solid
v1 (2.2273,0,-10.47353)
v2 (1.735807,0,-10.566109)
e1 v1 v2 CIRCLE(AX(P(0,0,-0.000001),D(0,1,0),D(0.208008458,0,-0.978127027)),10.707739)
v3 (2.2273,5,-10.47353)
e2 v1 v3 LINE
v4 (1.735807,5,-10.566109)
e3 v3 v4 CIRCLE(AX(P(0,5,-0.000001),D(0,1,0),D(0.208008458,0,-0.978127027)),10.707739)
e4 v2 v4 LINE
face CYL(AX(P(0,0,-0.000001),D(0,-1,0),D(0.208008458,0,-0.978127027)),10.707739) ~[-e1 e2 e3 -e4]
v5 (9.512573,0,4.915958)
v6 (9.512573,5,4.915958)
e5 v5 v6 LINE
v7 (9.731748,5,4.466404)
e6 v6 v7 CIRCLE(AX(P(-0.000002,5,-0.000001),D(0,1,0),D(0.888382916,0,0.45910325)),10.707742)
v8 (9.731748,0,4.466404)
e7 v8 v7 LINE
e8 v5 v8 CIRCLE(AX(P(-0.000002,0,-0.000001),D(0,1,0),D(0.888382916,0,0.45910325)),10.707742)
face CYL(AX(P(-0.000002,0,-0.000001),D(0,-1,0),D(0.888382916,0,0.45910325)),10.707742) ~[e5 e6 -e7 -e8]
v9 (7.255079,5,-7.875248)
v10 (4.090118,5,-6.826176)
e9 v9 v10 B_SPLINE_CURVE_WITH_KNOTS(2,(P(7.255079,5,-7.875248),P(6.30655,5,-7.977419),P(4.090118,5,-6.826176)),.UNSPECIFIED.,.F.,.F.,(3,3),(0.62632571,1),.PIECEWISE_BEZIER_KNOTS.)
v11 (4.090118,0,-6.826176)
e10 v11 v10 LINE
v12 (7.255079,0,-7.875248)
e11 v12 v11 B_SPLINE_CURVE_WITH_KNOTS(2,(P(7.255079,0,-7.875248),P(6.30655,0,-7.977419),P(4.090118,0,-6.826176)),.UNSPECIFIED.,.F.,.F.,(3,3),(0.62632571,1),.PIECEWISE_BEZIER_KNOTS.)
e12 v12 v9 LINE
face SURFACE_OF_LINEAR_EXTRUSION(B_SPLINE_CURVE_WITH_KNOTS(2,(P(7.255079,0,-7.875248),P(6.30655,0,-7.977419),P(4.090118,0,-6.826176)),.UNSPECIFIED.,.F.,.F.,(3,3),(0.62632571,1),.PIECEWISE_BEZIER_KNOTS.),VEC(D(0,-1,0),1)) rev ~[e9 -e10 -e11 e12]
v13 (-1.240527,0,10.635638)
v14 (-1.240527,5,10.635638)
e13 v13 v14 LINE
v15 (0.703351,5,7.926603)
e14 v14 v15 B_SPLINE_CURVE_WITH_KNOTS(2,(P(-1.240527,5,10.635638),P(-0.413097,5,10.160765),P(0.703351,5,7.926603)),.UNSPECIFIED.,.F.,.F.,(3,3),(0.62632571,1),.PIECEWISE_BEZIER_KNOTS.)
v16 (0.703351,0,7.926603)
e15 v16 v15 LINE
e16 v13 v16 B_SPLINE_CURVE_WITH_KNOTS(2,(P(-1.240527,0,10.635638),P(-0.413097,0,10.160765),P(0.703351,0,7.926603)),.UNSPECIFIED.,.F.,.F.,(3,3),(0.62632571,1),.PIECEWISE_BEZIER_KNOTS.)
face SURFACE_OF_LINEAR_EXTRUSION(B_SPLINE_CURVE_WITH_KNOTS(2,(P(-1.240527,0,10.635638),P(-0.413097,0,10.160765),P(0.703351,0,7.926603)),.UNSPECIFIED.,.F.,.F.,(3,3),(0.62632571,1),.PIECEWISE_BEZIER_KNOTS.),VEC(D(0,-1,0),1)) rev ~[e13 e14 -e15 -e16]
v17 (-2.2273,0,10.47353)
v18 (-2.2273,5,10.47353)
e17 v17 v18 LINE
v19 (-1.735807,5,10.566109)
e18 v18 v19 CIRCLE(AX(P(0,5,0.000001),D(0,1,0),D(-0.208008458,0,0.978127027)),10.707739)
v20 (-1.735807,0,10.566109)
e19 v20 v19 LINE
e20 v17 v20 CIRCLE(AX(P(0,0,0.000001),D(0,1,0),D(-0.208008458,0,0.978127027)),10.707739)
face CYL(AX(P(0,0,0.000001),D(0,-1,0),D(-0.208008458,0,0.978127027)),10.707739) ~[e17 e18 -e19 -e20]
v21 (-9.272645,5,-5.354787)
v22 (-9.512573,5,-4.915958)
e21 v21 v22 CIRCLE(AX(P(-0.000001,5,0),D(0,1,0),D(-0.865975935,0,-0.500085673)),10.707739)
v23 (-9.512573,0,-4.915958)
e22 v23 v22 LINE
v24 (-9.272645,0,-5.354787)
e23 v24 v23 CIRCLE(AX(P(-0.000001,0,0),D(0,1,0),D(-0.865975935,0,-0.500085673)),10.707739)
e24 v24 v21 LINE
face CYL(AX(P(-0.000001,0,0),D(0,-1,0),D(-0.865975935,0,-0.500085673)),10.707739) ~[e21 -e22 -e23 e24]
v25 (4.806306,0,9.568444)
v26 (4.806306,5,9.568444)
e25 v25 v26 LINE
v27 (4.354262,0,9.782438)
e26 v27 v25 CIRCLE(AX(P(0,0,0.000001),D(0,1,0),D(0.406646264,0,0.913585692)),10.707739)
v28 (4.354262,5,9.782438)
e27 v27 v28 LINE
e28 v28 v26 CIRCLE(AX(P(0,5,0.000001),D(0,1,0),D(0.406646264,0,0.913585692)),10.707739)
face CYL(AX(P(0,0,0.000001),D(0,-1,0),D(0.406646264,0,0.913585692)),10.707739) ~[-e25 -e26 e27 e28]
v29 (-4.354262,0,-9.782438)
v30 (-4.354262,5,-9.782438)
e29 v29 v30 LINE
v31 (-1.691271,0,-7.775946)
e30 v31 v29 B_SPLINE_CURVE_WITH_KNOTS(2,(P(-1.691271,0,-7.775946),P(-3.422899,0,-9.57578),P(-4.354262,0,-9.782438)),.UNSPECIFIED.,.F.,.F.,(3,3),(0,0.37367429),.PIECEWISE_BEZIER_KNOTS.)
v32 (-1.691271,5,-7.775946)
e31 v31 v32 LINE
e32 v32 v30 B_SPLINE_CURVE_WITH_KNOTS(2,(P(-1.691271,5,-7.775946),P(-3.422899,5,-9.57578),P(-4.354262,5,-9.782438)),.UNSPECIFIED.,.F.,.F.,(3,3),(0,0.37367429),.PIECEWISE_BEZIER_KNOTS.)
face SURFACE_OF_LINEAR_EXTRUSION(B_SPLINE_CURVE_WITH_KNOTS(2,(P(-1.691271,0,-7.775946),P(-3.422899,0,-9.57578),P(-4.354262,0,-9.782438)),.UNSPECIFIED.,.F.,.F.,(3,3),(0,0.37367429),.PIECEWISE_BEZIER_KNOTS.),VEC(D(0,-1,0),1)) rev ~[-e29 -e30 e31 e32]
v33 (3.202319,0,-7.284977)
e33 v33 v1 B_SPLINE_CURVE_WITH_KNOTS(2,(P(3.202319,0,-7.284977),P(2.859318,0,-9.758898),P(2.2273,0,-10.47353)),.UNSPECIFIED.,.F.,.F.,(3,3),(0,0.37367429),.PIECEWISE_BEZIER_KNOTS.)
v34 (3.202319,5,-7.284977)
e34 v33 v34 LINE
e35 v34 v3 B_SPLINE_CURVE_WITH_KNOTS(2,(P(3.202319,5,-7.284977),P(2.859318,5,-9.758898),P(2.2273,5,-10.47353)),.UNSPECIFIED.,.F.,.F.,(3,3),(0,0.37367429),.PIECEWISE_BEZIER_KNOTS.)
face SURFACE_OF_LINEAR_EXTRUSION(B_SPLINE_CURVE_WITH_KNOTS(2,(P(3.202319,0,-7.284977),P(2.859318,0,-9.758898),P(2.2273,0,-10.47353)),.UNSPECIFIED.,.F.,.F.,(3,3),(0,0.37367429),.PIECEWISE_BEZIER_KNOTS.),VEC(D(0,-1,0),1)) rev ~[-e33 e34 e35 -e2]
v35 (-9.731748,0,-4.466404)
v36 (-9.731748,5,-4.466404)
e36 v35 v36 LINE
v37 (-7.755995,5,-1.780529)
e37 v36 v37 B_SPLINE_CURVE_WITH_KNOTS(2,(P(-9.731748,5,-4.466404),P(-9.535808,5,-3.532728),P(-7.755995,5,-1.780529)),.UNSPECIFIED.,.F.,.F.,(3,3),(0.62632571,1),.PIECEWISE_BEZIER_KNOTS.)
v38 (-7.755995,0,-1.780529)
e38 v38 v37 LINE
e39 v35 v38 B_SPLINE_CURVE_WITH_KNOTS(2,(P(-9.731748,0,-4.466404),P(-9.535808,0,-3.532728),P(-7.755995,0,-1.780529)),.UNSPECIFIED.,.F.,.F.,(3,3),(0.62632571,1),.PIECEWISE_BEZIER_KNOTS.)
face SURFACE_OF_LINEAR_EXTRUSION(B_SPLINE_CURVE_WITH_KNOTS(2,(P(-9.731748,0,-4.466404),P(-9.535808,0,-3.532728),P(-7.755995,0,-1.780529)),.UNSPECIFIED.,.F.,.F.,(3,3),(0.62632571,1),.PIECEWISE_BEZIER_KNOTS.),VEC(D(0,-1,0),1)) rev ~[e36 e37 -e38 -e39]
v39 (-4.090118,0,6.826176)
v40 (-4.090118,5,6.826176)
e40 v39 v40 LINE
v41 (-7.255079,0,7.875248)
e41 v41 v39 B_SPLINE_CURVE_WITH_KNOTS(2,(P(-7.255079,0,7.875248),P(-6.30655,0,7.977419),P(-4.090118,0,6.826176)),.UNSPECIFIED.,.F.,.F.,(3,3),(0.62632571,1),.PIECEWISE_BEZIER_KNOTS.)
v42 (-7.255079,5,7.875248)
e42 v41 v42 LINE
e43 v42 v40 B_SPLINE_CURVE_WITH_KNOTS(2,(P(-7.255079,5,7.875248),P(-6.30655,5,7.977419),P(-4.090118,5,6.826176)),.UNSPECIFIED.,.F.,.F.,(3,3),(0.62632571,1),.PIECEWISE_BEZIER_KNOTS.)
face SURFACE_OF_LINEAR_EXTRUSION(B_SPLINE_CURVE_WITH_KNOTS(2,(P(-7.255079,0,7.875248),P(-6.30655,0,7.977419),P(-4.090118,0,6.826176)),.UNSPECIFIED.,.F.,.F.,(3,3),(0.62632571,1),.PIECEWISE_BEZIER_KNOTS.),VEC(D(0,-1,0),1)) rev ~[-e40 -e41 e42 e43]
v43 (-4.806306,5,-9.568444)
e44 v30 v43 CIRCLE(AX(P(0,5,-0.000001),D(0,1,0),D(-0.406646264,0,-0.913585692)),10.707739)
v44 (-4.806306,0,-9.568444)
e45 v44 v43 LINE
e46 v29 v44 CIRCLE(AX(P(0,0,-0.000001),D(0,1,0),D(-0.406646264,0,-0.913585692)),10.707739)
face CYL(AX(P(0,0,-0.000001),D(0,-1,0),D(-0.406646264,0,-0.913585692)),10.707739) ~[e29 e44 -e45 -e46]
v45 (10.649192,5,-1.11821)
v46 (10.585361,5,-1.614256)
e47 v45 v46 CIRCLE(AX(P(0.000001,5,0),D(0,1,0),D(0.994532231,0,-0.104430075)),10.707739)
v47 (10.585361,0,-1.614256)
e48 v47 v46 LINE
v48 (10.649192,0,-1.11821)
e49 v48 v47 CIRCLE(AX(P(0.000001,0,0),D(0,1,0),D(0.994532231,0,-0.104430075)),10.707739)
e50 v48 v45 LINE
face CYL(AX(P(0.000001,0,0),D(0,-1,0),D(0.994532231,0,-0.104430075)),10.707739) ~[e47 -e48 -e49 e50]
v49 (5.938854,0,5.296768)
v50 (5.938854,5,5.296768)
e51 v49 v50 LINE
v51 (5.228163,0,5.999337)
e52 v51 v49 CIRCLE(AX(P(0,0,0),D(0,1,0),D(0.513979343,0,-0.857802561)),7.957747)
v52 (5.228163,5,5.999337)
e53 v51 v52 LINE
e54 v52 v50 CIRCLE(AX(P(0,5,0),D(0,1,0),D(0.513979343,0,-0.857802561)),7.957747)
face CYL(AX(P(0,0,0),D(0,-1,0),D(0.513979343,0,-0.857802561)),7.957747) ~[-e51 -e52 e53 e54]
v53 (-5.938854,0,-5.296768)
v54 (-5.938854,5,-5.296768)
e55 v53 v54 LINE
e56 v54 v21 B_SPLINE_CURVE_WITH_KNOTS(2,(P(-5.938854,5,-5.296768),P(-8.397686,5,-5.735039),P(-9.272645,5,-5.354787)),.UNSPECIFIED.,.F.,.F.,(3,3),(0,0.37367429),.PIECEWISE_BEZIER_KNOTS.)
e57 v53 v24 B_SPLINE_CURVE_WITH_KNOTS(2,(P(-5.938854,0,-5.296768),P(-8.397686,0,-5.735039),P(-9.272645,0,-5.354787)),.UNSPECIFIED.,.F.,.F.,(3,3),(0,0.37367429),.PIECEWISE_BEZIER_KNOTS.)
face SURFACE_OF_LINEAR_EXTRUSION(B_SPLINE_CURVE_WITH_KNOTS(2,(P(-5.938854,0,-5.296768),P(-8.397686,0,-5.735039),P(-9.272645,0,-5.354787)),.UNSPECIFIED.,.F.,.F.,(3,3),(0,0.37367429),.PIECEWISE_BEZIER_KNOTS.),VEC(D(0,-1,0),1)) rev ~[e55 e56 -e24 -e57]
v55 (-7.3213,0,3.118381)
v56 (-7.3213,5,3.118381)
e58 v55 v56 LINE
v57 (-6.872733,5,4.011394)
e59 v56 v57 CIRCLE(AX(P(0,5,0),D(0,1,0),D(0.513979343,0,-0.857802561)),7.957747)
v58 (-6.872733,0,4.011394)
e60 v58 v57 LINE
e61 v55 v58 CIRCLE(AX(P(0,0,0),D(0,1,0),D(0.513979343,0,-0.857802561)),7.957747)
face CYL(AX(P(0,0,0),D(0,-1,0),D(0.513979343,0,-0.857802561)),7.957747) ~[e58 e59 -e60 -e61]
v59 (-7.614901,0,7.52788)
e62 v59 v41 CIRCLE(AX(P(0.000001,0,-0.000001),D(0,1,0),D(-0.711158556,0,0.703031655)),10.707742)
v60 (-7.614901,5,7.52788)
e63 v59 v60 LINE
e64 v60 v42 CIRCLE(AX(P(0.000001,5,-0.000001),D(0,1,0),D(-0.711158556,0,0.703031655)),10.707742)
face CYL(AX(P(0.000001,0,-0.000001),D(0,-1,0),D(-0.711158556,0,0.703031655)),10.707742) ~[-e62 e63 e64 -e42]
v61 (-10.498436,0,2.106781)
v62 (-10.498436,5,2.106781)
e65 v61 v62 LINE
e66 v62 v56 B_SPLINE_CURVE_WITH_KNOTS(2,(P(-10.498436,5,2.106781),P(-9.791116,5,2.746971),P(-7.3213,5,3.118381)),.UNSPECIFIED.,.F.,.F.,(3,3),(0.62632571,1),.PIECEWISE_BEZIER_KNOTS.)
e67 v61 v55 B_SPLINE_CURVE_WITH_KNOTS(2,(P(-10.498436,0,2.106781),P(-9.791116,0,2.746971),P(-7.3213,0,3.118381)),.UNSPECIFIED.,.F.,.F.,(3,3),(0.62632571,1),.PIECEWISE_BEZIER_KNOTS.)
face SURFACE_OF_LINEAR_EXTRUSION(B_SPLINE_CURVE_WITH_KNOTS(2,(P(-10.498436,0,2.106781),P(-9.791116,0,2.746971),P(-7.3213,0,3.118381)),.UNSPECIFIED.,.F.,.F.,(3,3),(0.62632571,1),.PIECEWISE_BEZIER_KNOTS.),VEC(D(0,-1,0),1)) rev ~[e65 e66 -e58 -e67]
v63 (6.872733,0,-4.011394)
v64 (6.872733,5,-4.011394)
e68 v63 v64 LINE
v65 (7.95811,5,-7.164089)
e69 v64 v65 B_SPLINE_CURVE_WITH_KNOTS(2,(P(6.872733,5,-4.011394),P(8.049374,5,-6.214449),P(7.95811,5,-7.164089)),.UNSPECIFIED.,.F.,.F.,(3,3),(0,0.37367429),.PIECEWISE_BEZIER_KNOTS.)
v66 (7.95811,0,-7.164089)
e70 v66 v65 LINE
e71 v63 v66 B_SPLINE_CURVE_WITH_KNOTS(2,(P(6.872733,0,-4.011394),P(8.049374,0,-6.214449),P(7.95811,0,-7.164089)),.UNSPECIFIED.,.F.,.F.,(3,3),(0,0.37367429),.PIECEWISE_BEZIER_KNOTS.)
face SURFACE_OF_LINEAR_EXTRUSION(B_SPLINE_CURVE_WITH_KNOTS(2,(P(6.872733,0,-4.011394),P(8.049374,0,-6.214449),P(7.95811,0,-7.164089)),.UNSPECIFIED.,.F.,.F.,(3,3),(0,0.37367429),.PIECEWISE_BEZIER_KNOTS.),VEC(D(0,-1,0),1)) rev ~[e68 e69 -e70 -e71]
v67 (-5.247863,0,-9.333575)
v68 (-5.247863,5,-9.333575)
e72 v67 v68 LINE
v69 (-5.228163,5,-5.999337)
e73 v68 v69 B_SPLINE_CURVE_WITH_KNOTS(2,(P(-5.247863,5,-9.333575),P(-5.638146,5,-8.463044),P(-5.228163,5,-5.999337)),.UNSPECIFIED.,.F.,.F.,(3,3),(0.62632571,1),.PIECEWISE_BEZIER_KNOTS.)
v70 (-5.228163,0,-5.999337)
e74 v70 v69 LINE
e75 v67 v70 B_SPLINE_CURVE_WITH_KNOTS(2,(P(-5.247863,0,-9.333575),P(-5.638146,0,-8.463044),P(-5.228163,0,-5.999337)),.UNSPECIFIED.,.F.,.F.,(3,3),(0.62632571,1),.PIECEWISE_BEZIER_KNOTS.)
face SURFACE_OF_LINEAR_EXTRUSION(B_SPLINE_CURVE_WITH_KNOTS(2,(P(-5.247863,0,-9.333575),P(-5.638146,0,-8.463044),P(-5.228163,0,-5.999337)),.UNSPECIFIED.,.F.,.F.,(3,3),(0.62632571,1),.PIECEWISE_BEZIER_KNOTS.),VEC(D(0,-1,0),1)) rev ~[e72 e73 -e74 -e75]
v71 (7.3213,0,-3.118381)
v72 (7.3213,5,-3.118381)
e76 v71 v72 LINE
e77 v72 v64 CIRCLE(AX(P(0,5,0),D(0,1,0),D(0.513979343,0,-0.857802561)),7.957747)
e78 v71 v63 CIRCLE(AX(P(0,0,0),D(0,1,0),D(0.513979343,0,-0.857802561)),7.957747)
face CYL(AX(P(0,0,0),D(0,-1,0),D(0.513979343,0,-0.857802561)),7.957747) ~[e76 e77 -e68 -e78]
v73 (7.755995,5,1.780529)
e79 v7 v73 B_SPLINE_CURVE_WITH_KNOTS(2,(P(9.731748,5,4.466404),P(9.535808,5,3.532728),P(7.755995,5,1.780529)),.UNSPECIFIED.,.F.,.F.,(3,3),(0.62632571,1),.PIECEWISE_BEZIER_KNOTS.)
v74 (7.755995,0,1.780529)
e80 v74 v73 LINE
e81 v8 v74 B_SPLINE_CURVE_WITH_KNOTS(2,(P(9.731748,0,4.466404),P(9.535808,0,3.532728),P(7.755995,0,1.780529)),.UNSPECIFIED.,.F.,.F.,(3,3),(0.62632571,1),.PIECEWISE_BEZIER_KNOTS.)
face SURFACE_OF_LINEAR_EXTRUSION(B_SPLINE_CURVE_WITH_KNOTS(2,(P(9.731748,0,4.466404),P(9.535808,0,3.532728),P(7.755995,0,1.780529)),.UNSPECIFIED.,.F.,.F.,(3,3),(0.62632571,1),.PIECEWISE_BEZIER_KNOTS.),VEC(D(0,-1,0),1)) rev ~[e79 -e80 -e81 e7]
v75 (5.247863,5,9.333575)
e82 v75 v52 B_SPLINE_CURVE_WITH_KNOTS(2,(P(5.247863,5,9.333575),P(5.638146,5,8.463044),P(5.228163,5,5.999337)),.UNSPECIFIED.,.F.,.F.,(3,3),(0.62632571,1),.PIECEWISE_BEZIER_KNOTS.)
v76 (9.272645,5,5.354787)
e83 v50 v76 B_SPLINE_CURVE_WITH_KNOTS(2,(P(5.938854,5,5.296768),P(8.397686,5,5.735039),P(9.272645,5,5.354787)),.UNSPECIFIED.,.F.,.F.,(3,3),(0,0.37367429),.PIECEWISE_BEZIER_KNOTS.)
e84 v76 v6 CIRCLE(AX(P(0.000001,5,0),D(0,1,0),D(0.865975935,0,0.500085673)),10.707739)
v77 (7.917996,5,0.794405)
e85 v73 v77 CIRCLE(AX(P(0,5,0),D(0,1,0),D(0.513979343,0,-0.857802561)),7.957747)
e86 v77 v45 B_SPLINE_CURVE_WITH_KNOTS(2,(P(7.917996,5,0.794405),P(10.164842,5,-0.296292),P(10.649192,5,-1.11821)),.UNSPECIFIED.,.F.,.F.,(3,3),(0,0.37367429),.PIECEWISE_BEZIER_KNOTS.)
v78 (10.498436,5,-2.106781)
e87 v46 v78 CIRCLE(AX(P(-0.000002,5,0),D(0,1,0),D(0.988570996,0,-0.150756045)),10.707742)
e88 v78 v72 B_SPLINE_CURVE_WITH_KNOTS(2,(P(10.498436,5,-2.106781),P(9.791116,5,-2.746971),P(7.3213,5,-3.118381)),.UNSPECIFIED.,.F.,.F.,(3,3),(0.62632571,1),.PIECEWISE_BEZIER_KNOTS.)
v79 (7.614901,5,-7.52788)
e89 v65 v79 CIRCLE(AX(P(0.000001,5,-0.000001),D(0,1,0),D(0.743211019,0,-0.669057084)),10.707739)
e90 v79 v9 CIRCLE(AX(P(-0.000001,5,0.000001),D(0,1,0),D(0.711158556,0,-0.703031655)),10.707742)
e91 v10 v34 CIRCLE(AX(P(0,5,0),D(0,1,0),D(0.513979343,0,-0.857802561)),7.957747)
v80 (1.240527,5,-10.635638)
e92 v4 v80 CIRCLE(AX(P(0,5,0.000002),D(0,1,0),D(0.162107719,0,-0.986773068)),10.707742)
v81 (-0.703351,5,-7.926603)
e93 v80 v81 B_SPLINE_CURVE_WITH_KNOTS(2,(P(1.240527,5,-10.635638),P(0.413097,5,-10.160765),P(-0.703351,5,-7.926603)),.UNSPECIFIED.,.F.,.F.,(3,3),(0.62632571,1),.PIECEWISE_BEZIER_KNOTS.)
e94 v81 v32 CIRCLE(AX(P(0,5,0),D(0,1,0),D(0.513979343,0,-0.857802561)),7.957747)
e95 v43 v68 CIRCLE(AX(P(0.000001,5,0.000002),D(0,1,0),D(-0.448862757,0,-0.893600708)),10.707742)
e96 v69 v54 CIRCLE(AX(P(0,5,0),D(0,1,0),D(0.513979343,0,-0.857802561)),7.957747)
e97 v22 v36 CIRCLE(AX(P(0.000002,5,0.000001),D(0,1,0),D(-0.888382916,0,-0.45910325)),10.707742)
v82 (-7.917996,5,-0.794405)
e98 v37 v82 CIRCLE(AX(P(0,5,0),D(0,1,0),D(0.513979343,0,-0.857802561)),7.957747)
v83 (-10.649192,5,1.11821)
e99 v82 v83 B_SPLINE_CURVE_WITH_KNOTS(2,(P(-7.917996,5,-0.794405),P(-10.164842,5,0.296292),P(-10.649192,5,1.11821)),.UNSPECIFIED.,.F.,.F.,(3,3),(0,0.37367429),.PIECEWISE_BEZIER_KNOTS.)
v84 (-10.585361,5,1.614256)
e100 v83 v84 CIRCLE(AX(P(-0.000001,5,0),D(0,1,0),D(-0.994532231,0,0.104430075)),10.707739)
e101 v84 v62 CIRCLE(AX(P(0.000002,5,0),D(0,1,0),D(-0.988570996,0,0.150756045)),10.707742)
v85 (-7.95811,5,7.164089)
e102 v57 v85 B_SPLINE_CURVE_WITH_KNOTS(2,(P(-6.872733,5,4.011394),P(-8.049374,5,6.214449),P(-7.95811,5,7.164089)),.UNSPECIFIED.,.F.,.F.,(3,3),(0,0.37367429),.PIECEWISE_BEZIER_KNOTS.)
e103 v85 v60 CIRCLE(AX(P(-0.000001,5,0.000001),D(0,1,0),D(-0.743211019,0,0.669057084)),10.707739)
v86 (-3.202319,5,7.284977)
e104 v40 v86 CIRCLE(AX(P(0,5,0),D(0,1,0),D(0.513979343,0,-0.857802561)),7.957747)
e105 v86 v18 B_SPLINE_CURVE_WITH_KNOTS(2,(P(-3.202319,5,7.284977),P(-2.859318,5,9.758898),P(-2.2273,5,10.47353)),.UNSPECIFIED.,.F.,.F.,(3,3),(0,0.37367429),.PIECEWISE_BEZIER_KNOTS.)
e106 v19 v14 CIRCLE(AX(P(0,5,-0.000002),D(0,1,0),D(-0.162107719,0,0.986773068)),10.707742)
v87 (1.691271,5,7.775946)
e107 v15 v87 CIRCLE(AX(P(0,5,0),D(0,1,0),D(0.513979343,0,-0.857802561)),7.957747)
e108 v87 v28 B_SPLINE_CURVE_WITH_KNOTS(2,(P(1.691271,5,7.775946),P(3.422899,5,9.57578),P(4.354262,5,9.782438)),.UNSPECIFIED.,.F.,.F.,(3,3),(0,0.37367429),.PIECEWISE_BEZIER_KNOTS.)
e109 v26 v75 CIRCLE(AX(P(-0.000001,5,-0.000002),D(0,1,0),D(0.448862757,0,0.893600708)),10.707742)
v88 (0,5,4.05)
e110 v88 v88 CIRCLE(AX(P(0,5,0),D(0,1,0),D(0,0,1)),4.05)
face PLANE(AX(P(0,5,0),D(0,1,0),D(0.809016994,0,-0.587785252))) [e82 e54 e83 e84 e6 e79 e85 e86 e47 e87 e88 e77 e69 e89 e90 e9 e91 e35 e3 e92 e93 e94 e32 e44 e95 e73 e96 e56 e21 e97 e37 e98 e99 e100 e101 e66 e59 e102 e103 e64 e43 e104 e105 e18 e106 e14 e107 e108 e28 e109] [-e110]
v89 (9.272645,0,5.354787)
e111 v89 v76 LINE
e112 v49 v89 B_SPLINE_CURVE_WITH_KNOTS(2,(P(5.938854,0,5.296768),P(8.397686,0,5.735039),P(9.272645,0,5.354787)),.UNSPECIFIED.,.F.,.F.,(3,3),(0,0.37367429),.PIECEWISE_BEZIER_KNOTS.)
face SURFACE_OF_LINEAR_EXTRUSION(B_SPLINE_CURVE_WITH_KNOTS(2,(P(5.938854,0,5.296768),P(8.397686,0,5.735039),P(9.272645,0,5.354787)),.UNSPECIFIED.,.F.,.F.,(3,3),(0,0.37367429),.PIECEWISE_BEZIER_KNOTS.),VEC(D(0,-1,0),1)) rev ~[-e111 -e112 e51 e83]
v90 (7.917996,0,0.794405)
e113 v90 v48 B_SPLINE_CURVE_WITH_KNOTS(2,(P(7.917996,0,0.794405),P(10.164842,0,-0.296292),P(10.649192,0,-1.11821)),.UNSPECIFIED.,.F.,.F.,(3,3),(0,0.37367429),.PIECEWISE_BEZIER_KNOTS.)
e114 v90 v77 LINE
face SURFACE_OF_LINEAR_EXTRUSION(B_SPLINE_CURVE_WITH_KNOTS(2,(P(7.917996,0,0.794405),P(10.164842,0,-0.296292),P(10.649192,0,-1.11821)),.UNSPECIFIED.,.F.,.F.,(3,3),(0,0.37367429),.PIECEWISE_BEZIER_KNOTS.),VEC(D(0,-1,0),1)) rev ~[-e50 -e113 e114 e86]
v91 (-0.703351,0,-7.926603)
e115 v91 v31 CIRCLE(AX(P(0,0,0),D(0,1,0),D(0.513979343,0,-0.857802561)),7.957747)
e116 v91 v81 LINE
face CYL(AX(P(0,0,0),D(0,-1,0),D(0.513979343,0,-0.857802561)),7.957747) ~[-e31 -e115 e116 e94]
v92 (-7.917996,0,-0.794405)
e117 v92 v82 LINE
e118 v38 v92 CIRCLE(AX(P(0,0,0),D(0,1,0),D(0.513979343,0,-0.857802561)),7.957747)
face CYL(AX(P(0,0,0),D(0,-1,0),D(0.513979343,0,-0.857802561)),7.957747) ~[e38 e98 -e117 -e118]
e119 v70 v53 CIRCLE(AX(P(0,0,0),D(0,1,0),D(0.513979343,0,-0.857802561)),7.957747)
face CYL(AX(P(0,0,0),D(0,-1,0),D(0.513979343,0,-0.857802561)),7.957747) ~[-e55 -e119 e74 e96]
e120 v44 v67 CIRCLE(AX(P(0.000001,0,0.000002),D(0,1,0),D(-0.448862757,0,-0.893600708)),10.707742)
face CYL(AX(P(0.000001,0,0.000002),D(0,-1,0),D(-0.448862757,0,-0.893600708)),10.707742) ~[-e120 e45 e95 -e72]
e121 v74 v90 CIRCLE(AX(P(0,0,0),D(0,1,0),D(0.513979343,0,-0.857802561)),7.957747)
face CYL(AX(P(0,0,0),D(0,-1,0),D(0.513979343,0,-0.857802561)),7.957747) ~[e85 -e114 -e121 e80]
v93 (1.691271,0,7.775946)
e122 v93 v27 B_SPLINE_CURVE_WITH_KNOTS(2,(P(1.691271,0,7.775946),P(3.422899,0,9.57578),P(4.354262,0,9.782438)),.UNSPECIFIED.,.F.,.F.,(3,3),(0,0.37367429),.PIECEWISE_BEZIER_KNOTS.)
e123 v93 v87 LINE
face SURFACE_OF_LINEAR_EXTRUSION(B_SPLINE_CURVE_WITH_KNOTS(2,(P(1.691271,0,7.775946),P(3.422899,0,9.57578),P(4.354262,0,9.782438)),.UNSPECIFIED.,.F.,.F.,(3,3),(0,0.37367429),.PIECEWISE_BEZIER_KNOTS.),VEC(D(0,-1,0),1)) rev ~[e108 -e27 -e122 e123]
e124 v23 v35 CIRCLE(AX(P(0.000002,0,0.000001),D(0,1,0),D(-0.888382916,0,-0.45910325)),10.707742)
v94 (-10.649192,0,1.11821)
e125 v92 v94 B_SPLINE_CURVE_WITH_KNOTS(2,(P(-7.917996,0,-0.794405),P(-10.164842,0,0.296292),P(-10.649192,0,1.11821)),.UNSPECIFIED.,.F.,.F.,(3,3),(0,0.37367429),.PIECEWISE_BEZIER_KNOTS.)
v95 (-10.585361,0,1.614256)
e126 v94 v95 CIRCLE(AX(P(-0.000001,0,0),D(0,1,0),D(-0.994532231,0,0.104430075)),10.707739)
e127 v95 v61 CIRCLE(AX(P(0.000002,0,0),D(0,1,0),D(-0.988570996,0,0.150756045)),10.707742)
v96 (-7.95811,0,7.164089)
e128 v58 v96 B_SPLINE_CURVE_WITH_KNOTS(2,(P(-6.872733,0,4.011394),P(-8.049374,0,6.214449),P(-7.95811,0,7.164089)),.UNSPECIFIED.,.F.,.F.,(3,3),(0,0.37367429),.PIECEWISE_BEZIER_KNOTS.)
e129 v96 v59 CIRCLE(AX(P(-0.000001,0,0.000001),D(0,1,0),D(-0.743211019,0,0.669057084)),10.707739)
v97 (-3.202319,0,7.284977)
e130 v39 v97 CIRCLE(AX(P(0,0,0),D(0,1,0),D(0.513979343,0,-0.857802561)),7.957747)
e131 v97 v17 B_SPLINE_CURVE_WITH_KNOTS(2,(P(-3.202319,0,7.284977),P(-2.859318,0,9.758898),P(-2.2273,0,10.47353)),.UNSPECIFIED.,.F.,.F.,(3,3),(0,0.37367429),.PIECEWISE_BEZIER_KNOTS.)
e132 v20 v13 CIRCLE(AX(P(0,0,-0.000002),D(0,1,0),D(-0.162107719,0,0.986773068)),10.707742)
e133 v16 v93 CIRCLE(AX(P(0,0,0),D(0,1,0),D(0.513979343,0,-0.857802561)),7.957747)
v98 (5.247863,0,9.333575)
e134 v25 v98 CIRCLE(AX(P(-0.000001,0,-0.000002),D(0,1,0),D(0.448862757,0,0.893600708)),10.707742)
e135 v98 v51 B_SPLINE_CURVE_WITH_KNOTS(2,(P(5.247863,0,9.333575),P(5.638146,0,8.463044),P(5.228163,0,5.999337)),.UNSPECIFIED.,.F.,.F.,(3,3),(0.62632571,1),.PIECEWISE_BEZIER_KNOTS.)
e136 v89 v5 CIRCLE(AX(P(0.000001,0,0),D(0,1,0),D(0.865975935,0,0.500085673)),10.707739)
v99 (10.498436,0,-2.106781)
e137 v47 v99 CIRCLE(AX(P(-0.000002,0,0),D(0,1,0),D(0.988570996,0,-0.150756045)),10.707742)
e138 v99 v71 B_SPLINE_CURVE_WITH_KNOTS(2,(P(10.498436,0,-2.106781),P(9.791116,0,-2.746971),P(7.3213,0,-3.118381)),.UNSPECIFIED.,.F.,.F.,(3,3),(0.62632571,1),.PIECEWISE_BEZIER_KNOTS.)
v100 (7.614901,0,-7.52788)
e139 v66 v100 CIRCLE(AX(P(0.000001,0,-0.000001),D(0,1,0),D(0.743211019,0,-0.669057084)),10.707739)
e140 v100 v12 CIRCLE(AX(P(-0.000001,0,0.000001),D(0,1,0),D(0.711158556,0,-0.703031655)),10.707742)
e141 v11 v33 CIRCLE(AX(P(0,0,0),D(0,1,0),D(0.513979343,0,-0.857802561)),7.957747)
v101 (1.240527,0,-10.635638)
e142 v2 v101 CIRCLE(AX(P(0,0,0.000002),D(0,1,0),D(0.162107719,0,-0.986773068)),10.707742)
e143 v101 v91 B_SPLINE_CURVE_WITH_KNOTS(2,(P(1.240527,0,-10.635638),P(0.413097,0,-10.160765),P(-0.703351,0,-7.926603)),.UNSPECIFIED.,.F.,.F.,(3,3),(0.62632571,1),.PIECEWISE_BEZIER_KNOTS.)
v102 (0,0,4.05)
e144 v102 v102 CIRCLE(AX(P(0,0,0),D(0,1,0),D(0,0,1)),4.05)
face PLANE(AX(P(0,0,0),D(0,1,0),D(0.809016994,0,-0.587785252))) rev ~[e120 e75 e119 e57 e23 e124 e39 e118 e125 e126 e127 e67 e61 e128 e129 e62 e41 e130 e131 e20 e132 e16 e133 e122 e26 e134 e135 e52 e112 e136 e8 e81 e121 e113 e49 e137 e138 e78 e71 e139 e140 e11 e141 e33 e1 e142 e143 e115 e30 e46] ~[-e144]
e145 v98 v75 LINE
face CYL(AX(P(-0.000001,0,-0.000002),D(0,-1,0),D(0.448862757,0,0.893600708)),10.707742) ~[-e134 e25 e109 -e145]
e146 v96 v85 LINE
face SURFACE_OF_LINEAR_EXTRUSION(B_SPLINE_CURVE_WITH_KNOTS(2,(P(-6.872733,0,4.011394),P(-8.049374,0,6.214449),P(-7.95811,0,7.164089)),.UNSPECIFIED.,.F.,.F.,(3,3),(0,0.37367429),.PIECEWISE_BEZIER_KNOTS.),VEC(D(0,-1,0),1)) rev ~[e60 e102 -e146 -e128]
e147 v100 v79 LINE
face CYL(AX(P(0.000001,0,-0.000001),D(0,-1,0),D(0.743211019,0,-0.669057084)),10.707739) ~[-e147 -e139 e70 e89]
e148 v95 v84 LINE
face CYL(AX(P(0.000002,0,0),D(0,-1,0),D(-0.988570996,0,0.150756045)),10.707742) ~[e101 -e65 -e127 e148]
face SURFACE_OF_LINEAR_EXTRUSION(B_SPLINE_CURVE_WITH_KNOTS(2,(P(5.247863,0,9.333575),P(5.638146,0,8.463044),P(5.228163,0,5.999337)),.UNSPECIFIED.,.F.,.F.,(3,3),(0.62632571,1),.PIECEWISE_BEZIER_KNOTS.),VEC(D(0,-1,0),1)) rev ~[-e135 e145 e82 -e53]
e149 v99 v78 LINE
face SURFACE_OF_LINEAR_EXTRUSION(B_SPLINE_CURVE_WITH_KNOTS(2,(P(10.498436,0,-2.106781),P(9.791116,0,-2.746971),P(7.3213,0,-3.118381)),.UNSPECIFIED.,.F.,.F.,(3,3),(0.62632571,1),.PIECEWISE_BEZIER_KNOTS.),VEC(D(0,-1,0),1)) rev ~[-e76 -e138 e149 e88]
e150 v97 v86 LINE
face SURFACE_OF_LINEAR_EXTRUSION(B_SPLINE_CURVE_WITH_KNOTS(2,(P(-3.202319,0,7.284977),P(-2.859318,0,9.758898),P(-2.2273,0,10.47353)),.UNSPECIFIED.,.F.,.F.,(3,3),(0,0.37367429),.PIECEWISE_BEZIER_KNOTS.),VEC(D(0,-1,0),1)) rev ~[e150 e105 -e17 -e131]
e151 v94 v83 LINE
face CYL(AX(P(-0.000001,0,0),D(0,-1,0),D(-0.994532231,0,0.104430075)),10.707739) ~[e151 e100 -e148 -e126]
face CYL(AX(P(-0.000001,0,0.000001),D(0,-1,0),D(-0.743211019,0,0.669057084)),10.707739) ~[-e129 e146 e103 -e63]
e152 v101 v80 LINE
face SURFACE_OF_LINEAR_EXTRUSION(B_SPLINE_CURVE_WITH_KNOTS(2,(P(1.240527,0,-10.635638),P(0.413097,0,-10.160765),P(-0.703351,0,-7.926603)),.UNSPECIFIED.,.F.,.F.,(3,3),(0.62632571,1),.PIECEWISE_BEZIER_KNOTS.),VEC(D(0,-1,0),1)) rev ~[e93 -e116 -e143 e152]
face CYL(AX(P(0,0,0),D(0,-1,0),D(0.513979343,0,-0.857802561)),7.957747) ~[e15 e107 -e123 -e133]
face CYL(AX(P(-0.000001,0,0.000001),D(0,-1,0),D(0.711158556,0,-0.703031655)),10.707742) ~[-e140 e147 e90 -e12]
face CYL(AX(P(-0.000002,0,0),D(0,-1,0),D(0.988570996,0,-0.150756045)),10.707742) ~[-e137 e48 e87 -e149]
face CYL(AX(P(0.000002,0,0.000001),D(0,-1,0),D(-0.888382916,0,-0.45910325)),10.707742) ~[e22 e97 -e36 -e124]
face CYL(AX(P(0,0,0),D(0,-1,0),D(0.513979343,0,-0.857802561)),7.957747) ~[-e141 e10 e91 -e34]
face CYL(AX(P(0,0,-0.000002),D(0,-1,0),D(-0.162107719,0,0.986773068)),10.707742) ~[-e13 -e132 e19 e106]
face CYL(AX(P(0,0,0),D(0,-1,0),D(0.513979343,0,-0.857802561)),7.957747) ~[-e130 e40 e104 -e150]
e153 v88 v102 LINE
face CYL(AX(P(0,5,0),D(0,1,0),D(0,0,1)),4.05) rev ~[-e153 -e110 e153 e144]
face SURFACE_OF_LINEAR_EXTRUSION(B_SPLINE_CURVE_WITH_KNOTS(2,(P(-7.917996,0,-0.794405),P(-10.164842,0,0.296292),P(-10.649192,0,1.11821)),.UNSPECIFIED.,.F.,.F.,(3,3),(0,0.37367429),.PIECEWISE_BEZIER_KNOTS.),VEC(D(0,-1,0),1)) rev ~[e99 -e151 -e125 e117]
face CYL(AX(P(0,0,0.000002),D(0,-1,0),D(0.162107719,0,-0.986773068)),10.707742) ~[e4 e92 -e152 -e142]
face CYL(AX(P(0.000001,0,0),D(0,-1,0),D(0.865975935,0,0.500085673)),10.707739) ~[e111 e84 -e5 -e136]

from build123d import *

# Parameters (mm, degrees)
SKETCH1_R           = 7.957747155
BOSS_EXTRUDE4_DEPTH = 5
CIRPATTERN6_COUNT   = 10
SKETCH2_R           = 4.05
CUT_EXTRUDE1_DEPTH  = 10


with BuildPart() as part:
    # Sketch1 → Boss-Extrude4 (new body)
    with BuildSketch(Plane(origin=(0, 0, 0), x_dir=(1, 0, 0), z_dir=(0, 1, 0))):
        Circle(SKETCH1_R)
        with BuildLine():
            ThreePointArc((7.958110252, 7.164089255), (7.788629845, 7.347988758), (7.614900879, 7.527880064))
            ThreePointArc((7.614900879, 7.527880064), (7.43701812, 7.703665045), (7.255078601, 7.875247815))
            add(Edge.make_bspline(
                [(7.255078601, 7.875247815), (6.306550312, 7.97741942), (4.090117658, 6.826175893)],
                knots=[0.62632571, 0.62632571, 0.62632571, 1, 1, 1], degree=2))
            ThreePointArc((4.090117658, 6.826175893), (5.659220003, 5.594548126), (6.872732742, 4.011394325))
            add(Edge.make_bspline(
                [(6.872732742, 4.011394325), (8.04937368, 6.214449356), (7.958110252, 7.164089255)],
                knots=[0, 0, 0, 0.37367429, 0.37367429, 0.37367429], degree=2))
        make_face()
    boss_extrude4 = extrude(amount=BOSS_EXTRUDE4_DEPTH)

    # CirPattern6: Boss-Extrude4 ×10 about axis
    cirpattern6_axis = Axis((0, 0, 0), (0, -1, 0))
    for i in range(1, CIRPATTERN6_COUNT):
        add(boss_extrude4.rotate(cirpattern6_axis, i * 360 / CIRPATTERN6_COUNT))

    # Sketch2 → Cut-Extrude1 (cut)
    with BuildSketch(Plane(origin=(0, 5, 0), x_dir=(1, 0, 0), z_dir=(0, 1, 0))):
        with Locations(Location((0, 0, 0), (0, 0, 270))):
            Circle(SKETCH2_R)
    extrude(amount=-CUT_EXTRUDE1_DEPTH, mode=Mode.SUBTRACT)


solid = part.part
